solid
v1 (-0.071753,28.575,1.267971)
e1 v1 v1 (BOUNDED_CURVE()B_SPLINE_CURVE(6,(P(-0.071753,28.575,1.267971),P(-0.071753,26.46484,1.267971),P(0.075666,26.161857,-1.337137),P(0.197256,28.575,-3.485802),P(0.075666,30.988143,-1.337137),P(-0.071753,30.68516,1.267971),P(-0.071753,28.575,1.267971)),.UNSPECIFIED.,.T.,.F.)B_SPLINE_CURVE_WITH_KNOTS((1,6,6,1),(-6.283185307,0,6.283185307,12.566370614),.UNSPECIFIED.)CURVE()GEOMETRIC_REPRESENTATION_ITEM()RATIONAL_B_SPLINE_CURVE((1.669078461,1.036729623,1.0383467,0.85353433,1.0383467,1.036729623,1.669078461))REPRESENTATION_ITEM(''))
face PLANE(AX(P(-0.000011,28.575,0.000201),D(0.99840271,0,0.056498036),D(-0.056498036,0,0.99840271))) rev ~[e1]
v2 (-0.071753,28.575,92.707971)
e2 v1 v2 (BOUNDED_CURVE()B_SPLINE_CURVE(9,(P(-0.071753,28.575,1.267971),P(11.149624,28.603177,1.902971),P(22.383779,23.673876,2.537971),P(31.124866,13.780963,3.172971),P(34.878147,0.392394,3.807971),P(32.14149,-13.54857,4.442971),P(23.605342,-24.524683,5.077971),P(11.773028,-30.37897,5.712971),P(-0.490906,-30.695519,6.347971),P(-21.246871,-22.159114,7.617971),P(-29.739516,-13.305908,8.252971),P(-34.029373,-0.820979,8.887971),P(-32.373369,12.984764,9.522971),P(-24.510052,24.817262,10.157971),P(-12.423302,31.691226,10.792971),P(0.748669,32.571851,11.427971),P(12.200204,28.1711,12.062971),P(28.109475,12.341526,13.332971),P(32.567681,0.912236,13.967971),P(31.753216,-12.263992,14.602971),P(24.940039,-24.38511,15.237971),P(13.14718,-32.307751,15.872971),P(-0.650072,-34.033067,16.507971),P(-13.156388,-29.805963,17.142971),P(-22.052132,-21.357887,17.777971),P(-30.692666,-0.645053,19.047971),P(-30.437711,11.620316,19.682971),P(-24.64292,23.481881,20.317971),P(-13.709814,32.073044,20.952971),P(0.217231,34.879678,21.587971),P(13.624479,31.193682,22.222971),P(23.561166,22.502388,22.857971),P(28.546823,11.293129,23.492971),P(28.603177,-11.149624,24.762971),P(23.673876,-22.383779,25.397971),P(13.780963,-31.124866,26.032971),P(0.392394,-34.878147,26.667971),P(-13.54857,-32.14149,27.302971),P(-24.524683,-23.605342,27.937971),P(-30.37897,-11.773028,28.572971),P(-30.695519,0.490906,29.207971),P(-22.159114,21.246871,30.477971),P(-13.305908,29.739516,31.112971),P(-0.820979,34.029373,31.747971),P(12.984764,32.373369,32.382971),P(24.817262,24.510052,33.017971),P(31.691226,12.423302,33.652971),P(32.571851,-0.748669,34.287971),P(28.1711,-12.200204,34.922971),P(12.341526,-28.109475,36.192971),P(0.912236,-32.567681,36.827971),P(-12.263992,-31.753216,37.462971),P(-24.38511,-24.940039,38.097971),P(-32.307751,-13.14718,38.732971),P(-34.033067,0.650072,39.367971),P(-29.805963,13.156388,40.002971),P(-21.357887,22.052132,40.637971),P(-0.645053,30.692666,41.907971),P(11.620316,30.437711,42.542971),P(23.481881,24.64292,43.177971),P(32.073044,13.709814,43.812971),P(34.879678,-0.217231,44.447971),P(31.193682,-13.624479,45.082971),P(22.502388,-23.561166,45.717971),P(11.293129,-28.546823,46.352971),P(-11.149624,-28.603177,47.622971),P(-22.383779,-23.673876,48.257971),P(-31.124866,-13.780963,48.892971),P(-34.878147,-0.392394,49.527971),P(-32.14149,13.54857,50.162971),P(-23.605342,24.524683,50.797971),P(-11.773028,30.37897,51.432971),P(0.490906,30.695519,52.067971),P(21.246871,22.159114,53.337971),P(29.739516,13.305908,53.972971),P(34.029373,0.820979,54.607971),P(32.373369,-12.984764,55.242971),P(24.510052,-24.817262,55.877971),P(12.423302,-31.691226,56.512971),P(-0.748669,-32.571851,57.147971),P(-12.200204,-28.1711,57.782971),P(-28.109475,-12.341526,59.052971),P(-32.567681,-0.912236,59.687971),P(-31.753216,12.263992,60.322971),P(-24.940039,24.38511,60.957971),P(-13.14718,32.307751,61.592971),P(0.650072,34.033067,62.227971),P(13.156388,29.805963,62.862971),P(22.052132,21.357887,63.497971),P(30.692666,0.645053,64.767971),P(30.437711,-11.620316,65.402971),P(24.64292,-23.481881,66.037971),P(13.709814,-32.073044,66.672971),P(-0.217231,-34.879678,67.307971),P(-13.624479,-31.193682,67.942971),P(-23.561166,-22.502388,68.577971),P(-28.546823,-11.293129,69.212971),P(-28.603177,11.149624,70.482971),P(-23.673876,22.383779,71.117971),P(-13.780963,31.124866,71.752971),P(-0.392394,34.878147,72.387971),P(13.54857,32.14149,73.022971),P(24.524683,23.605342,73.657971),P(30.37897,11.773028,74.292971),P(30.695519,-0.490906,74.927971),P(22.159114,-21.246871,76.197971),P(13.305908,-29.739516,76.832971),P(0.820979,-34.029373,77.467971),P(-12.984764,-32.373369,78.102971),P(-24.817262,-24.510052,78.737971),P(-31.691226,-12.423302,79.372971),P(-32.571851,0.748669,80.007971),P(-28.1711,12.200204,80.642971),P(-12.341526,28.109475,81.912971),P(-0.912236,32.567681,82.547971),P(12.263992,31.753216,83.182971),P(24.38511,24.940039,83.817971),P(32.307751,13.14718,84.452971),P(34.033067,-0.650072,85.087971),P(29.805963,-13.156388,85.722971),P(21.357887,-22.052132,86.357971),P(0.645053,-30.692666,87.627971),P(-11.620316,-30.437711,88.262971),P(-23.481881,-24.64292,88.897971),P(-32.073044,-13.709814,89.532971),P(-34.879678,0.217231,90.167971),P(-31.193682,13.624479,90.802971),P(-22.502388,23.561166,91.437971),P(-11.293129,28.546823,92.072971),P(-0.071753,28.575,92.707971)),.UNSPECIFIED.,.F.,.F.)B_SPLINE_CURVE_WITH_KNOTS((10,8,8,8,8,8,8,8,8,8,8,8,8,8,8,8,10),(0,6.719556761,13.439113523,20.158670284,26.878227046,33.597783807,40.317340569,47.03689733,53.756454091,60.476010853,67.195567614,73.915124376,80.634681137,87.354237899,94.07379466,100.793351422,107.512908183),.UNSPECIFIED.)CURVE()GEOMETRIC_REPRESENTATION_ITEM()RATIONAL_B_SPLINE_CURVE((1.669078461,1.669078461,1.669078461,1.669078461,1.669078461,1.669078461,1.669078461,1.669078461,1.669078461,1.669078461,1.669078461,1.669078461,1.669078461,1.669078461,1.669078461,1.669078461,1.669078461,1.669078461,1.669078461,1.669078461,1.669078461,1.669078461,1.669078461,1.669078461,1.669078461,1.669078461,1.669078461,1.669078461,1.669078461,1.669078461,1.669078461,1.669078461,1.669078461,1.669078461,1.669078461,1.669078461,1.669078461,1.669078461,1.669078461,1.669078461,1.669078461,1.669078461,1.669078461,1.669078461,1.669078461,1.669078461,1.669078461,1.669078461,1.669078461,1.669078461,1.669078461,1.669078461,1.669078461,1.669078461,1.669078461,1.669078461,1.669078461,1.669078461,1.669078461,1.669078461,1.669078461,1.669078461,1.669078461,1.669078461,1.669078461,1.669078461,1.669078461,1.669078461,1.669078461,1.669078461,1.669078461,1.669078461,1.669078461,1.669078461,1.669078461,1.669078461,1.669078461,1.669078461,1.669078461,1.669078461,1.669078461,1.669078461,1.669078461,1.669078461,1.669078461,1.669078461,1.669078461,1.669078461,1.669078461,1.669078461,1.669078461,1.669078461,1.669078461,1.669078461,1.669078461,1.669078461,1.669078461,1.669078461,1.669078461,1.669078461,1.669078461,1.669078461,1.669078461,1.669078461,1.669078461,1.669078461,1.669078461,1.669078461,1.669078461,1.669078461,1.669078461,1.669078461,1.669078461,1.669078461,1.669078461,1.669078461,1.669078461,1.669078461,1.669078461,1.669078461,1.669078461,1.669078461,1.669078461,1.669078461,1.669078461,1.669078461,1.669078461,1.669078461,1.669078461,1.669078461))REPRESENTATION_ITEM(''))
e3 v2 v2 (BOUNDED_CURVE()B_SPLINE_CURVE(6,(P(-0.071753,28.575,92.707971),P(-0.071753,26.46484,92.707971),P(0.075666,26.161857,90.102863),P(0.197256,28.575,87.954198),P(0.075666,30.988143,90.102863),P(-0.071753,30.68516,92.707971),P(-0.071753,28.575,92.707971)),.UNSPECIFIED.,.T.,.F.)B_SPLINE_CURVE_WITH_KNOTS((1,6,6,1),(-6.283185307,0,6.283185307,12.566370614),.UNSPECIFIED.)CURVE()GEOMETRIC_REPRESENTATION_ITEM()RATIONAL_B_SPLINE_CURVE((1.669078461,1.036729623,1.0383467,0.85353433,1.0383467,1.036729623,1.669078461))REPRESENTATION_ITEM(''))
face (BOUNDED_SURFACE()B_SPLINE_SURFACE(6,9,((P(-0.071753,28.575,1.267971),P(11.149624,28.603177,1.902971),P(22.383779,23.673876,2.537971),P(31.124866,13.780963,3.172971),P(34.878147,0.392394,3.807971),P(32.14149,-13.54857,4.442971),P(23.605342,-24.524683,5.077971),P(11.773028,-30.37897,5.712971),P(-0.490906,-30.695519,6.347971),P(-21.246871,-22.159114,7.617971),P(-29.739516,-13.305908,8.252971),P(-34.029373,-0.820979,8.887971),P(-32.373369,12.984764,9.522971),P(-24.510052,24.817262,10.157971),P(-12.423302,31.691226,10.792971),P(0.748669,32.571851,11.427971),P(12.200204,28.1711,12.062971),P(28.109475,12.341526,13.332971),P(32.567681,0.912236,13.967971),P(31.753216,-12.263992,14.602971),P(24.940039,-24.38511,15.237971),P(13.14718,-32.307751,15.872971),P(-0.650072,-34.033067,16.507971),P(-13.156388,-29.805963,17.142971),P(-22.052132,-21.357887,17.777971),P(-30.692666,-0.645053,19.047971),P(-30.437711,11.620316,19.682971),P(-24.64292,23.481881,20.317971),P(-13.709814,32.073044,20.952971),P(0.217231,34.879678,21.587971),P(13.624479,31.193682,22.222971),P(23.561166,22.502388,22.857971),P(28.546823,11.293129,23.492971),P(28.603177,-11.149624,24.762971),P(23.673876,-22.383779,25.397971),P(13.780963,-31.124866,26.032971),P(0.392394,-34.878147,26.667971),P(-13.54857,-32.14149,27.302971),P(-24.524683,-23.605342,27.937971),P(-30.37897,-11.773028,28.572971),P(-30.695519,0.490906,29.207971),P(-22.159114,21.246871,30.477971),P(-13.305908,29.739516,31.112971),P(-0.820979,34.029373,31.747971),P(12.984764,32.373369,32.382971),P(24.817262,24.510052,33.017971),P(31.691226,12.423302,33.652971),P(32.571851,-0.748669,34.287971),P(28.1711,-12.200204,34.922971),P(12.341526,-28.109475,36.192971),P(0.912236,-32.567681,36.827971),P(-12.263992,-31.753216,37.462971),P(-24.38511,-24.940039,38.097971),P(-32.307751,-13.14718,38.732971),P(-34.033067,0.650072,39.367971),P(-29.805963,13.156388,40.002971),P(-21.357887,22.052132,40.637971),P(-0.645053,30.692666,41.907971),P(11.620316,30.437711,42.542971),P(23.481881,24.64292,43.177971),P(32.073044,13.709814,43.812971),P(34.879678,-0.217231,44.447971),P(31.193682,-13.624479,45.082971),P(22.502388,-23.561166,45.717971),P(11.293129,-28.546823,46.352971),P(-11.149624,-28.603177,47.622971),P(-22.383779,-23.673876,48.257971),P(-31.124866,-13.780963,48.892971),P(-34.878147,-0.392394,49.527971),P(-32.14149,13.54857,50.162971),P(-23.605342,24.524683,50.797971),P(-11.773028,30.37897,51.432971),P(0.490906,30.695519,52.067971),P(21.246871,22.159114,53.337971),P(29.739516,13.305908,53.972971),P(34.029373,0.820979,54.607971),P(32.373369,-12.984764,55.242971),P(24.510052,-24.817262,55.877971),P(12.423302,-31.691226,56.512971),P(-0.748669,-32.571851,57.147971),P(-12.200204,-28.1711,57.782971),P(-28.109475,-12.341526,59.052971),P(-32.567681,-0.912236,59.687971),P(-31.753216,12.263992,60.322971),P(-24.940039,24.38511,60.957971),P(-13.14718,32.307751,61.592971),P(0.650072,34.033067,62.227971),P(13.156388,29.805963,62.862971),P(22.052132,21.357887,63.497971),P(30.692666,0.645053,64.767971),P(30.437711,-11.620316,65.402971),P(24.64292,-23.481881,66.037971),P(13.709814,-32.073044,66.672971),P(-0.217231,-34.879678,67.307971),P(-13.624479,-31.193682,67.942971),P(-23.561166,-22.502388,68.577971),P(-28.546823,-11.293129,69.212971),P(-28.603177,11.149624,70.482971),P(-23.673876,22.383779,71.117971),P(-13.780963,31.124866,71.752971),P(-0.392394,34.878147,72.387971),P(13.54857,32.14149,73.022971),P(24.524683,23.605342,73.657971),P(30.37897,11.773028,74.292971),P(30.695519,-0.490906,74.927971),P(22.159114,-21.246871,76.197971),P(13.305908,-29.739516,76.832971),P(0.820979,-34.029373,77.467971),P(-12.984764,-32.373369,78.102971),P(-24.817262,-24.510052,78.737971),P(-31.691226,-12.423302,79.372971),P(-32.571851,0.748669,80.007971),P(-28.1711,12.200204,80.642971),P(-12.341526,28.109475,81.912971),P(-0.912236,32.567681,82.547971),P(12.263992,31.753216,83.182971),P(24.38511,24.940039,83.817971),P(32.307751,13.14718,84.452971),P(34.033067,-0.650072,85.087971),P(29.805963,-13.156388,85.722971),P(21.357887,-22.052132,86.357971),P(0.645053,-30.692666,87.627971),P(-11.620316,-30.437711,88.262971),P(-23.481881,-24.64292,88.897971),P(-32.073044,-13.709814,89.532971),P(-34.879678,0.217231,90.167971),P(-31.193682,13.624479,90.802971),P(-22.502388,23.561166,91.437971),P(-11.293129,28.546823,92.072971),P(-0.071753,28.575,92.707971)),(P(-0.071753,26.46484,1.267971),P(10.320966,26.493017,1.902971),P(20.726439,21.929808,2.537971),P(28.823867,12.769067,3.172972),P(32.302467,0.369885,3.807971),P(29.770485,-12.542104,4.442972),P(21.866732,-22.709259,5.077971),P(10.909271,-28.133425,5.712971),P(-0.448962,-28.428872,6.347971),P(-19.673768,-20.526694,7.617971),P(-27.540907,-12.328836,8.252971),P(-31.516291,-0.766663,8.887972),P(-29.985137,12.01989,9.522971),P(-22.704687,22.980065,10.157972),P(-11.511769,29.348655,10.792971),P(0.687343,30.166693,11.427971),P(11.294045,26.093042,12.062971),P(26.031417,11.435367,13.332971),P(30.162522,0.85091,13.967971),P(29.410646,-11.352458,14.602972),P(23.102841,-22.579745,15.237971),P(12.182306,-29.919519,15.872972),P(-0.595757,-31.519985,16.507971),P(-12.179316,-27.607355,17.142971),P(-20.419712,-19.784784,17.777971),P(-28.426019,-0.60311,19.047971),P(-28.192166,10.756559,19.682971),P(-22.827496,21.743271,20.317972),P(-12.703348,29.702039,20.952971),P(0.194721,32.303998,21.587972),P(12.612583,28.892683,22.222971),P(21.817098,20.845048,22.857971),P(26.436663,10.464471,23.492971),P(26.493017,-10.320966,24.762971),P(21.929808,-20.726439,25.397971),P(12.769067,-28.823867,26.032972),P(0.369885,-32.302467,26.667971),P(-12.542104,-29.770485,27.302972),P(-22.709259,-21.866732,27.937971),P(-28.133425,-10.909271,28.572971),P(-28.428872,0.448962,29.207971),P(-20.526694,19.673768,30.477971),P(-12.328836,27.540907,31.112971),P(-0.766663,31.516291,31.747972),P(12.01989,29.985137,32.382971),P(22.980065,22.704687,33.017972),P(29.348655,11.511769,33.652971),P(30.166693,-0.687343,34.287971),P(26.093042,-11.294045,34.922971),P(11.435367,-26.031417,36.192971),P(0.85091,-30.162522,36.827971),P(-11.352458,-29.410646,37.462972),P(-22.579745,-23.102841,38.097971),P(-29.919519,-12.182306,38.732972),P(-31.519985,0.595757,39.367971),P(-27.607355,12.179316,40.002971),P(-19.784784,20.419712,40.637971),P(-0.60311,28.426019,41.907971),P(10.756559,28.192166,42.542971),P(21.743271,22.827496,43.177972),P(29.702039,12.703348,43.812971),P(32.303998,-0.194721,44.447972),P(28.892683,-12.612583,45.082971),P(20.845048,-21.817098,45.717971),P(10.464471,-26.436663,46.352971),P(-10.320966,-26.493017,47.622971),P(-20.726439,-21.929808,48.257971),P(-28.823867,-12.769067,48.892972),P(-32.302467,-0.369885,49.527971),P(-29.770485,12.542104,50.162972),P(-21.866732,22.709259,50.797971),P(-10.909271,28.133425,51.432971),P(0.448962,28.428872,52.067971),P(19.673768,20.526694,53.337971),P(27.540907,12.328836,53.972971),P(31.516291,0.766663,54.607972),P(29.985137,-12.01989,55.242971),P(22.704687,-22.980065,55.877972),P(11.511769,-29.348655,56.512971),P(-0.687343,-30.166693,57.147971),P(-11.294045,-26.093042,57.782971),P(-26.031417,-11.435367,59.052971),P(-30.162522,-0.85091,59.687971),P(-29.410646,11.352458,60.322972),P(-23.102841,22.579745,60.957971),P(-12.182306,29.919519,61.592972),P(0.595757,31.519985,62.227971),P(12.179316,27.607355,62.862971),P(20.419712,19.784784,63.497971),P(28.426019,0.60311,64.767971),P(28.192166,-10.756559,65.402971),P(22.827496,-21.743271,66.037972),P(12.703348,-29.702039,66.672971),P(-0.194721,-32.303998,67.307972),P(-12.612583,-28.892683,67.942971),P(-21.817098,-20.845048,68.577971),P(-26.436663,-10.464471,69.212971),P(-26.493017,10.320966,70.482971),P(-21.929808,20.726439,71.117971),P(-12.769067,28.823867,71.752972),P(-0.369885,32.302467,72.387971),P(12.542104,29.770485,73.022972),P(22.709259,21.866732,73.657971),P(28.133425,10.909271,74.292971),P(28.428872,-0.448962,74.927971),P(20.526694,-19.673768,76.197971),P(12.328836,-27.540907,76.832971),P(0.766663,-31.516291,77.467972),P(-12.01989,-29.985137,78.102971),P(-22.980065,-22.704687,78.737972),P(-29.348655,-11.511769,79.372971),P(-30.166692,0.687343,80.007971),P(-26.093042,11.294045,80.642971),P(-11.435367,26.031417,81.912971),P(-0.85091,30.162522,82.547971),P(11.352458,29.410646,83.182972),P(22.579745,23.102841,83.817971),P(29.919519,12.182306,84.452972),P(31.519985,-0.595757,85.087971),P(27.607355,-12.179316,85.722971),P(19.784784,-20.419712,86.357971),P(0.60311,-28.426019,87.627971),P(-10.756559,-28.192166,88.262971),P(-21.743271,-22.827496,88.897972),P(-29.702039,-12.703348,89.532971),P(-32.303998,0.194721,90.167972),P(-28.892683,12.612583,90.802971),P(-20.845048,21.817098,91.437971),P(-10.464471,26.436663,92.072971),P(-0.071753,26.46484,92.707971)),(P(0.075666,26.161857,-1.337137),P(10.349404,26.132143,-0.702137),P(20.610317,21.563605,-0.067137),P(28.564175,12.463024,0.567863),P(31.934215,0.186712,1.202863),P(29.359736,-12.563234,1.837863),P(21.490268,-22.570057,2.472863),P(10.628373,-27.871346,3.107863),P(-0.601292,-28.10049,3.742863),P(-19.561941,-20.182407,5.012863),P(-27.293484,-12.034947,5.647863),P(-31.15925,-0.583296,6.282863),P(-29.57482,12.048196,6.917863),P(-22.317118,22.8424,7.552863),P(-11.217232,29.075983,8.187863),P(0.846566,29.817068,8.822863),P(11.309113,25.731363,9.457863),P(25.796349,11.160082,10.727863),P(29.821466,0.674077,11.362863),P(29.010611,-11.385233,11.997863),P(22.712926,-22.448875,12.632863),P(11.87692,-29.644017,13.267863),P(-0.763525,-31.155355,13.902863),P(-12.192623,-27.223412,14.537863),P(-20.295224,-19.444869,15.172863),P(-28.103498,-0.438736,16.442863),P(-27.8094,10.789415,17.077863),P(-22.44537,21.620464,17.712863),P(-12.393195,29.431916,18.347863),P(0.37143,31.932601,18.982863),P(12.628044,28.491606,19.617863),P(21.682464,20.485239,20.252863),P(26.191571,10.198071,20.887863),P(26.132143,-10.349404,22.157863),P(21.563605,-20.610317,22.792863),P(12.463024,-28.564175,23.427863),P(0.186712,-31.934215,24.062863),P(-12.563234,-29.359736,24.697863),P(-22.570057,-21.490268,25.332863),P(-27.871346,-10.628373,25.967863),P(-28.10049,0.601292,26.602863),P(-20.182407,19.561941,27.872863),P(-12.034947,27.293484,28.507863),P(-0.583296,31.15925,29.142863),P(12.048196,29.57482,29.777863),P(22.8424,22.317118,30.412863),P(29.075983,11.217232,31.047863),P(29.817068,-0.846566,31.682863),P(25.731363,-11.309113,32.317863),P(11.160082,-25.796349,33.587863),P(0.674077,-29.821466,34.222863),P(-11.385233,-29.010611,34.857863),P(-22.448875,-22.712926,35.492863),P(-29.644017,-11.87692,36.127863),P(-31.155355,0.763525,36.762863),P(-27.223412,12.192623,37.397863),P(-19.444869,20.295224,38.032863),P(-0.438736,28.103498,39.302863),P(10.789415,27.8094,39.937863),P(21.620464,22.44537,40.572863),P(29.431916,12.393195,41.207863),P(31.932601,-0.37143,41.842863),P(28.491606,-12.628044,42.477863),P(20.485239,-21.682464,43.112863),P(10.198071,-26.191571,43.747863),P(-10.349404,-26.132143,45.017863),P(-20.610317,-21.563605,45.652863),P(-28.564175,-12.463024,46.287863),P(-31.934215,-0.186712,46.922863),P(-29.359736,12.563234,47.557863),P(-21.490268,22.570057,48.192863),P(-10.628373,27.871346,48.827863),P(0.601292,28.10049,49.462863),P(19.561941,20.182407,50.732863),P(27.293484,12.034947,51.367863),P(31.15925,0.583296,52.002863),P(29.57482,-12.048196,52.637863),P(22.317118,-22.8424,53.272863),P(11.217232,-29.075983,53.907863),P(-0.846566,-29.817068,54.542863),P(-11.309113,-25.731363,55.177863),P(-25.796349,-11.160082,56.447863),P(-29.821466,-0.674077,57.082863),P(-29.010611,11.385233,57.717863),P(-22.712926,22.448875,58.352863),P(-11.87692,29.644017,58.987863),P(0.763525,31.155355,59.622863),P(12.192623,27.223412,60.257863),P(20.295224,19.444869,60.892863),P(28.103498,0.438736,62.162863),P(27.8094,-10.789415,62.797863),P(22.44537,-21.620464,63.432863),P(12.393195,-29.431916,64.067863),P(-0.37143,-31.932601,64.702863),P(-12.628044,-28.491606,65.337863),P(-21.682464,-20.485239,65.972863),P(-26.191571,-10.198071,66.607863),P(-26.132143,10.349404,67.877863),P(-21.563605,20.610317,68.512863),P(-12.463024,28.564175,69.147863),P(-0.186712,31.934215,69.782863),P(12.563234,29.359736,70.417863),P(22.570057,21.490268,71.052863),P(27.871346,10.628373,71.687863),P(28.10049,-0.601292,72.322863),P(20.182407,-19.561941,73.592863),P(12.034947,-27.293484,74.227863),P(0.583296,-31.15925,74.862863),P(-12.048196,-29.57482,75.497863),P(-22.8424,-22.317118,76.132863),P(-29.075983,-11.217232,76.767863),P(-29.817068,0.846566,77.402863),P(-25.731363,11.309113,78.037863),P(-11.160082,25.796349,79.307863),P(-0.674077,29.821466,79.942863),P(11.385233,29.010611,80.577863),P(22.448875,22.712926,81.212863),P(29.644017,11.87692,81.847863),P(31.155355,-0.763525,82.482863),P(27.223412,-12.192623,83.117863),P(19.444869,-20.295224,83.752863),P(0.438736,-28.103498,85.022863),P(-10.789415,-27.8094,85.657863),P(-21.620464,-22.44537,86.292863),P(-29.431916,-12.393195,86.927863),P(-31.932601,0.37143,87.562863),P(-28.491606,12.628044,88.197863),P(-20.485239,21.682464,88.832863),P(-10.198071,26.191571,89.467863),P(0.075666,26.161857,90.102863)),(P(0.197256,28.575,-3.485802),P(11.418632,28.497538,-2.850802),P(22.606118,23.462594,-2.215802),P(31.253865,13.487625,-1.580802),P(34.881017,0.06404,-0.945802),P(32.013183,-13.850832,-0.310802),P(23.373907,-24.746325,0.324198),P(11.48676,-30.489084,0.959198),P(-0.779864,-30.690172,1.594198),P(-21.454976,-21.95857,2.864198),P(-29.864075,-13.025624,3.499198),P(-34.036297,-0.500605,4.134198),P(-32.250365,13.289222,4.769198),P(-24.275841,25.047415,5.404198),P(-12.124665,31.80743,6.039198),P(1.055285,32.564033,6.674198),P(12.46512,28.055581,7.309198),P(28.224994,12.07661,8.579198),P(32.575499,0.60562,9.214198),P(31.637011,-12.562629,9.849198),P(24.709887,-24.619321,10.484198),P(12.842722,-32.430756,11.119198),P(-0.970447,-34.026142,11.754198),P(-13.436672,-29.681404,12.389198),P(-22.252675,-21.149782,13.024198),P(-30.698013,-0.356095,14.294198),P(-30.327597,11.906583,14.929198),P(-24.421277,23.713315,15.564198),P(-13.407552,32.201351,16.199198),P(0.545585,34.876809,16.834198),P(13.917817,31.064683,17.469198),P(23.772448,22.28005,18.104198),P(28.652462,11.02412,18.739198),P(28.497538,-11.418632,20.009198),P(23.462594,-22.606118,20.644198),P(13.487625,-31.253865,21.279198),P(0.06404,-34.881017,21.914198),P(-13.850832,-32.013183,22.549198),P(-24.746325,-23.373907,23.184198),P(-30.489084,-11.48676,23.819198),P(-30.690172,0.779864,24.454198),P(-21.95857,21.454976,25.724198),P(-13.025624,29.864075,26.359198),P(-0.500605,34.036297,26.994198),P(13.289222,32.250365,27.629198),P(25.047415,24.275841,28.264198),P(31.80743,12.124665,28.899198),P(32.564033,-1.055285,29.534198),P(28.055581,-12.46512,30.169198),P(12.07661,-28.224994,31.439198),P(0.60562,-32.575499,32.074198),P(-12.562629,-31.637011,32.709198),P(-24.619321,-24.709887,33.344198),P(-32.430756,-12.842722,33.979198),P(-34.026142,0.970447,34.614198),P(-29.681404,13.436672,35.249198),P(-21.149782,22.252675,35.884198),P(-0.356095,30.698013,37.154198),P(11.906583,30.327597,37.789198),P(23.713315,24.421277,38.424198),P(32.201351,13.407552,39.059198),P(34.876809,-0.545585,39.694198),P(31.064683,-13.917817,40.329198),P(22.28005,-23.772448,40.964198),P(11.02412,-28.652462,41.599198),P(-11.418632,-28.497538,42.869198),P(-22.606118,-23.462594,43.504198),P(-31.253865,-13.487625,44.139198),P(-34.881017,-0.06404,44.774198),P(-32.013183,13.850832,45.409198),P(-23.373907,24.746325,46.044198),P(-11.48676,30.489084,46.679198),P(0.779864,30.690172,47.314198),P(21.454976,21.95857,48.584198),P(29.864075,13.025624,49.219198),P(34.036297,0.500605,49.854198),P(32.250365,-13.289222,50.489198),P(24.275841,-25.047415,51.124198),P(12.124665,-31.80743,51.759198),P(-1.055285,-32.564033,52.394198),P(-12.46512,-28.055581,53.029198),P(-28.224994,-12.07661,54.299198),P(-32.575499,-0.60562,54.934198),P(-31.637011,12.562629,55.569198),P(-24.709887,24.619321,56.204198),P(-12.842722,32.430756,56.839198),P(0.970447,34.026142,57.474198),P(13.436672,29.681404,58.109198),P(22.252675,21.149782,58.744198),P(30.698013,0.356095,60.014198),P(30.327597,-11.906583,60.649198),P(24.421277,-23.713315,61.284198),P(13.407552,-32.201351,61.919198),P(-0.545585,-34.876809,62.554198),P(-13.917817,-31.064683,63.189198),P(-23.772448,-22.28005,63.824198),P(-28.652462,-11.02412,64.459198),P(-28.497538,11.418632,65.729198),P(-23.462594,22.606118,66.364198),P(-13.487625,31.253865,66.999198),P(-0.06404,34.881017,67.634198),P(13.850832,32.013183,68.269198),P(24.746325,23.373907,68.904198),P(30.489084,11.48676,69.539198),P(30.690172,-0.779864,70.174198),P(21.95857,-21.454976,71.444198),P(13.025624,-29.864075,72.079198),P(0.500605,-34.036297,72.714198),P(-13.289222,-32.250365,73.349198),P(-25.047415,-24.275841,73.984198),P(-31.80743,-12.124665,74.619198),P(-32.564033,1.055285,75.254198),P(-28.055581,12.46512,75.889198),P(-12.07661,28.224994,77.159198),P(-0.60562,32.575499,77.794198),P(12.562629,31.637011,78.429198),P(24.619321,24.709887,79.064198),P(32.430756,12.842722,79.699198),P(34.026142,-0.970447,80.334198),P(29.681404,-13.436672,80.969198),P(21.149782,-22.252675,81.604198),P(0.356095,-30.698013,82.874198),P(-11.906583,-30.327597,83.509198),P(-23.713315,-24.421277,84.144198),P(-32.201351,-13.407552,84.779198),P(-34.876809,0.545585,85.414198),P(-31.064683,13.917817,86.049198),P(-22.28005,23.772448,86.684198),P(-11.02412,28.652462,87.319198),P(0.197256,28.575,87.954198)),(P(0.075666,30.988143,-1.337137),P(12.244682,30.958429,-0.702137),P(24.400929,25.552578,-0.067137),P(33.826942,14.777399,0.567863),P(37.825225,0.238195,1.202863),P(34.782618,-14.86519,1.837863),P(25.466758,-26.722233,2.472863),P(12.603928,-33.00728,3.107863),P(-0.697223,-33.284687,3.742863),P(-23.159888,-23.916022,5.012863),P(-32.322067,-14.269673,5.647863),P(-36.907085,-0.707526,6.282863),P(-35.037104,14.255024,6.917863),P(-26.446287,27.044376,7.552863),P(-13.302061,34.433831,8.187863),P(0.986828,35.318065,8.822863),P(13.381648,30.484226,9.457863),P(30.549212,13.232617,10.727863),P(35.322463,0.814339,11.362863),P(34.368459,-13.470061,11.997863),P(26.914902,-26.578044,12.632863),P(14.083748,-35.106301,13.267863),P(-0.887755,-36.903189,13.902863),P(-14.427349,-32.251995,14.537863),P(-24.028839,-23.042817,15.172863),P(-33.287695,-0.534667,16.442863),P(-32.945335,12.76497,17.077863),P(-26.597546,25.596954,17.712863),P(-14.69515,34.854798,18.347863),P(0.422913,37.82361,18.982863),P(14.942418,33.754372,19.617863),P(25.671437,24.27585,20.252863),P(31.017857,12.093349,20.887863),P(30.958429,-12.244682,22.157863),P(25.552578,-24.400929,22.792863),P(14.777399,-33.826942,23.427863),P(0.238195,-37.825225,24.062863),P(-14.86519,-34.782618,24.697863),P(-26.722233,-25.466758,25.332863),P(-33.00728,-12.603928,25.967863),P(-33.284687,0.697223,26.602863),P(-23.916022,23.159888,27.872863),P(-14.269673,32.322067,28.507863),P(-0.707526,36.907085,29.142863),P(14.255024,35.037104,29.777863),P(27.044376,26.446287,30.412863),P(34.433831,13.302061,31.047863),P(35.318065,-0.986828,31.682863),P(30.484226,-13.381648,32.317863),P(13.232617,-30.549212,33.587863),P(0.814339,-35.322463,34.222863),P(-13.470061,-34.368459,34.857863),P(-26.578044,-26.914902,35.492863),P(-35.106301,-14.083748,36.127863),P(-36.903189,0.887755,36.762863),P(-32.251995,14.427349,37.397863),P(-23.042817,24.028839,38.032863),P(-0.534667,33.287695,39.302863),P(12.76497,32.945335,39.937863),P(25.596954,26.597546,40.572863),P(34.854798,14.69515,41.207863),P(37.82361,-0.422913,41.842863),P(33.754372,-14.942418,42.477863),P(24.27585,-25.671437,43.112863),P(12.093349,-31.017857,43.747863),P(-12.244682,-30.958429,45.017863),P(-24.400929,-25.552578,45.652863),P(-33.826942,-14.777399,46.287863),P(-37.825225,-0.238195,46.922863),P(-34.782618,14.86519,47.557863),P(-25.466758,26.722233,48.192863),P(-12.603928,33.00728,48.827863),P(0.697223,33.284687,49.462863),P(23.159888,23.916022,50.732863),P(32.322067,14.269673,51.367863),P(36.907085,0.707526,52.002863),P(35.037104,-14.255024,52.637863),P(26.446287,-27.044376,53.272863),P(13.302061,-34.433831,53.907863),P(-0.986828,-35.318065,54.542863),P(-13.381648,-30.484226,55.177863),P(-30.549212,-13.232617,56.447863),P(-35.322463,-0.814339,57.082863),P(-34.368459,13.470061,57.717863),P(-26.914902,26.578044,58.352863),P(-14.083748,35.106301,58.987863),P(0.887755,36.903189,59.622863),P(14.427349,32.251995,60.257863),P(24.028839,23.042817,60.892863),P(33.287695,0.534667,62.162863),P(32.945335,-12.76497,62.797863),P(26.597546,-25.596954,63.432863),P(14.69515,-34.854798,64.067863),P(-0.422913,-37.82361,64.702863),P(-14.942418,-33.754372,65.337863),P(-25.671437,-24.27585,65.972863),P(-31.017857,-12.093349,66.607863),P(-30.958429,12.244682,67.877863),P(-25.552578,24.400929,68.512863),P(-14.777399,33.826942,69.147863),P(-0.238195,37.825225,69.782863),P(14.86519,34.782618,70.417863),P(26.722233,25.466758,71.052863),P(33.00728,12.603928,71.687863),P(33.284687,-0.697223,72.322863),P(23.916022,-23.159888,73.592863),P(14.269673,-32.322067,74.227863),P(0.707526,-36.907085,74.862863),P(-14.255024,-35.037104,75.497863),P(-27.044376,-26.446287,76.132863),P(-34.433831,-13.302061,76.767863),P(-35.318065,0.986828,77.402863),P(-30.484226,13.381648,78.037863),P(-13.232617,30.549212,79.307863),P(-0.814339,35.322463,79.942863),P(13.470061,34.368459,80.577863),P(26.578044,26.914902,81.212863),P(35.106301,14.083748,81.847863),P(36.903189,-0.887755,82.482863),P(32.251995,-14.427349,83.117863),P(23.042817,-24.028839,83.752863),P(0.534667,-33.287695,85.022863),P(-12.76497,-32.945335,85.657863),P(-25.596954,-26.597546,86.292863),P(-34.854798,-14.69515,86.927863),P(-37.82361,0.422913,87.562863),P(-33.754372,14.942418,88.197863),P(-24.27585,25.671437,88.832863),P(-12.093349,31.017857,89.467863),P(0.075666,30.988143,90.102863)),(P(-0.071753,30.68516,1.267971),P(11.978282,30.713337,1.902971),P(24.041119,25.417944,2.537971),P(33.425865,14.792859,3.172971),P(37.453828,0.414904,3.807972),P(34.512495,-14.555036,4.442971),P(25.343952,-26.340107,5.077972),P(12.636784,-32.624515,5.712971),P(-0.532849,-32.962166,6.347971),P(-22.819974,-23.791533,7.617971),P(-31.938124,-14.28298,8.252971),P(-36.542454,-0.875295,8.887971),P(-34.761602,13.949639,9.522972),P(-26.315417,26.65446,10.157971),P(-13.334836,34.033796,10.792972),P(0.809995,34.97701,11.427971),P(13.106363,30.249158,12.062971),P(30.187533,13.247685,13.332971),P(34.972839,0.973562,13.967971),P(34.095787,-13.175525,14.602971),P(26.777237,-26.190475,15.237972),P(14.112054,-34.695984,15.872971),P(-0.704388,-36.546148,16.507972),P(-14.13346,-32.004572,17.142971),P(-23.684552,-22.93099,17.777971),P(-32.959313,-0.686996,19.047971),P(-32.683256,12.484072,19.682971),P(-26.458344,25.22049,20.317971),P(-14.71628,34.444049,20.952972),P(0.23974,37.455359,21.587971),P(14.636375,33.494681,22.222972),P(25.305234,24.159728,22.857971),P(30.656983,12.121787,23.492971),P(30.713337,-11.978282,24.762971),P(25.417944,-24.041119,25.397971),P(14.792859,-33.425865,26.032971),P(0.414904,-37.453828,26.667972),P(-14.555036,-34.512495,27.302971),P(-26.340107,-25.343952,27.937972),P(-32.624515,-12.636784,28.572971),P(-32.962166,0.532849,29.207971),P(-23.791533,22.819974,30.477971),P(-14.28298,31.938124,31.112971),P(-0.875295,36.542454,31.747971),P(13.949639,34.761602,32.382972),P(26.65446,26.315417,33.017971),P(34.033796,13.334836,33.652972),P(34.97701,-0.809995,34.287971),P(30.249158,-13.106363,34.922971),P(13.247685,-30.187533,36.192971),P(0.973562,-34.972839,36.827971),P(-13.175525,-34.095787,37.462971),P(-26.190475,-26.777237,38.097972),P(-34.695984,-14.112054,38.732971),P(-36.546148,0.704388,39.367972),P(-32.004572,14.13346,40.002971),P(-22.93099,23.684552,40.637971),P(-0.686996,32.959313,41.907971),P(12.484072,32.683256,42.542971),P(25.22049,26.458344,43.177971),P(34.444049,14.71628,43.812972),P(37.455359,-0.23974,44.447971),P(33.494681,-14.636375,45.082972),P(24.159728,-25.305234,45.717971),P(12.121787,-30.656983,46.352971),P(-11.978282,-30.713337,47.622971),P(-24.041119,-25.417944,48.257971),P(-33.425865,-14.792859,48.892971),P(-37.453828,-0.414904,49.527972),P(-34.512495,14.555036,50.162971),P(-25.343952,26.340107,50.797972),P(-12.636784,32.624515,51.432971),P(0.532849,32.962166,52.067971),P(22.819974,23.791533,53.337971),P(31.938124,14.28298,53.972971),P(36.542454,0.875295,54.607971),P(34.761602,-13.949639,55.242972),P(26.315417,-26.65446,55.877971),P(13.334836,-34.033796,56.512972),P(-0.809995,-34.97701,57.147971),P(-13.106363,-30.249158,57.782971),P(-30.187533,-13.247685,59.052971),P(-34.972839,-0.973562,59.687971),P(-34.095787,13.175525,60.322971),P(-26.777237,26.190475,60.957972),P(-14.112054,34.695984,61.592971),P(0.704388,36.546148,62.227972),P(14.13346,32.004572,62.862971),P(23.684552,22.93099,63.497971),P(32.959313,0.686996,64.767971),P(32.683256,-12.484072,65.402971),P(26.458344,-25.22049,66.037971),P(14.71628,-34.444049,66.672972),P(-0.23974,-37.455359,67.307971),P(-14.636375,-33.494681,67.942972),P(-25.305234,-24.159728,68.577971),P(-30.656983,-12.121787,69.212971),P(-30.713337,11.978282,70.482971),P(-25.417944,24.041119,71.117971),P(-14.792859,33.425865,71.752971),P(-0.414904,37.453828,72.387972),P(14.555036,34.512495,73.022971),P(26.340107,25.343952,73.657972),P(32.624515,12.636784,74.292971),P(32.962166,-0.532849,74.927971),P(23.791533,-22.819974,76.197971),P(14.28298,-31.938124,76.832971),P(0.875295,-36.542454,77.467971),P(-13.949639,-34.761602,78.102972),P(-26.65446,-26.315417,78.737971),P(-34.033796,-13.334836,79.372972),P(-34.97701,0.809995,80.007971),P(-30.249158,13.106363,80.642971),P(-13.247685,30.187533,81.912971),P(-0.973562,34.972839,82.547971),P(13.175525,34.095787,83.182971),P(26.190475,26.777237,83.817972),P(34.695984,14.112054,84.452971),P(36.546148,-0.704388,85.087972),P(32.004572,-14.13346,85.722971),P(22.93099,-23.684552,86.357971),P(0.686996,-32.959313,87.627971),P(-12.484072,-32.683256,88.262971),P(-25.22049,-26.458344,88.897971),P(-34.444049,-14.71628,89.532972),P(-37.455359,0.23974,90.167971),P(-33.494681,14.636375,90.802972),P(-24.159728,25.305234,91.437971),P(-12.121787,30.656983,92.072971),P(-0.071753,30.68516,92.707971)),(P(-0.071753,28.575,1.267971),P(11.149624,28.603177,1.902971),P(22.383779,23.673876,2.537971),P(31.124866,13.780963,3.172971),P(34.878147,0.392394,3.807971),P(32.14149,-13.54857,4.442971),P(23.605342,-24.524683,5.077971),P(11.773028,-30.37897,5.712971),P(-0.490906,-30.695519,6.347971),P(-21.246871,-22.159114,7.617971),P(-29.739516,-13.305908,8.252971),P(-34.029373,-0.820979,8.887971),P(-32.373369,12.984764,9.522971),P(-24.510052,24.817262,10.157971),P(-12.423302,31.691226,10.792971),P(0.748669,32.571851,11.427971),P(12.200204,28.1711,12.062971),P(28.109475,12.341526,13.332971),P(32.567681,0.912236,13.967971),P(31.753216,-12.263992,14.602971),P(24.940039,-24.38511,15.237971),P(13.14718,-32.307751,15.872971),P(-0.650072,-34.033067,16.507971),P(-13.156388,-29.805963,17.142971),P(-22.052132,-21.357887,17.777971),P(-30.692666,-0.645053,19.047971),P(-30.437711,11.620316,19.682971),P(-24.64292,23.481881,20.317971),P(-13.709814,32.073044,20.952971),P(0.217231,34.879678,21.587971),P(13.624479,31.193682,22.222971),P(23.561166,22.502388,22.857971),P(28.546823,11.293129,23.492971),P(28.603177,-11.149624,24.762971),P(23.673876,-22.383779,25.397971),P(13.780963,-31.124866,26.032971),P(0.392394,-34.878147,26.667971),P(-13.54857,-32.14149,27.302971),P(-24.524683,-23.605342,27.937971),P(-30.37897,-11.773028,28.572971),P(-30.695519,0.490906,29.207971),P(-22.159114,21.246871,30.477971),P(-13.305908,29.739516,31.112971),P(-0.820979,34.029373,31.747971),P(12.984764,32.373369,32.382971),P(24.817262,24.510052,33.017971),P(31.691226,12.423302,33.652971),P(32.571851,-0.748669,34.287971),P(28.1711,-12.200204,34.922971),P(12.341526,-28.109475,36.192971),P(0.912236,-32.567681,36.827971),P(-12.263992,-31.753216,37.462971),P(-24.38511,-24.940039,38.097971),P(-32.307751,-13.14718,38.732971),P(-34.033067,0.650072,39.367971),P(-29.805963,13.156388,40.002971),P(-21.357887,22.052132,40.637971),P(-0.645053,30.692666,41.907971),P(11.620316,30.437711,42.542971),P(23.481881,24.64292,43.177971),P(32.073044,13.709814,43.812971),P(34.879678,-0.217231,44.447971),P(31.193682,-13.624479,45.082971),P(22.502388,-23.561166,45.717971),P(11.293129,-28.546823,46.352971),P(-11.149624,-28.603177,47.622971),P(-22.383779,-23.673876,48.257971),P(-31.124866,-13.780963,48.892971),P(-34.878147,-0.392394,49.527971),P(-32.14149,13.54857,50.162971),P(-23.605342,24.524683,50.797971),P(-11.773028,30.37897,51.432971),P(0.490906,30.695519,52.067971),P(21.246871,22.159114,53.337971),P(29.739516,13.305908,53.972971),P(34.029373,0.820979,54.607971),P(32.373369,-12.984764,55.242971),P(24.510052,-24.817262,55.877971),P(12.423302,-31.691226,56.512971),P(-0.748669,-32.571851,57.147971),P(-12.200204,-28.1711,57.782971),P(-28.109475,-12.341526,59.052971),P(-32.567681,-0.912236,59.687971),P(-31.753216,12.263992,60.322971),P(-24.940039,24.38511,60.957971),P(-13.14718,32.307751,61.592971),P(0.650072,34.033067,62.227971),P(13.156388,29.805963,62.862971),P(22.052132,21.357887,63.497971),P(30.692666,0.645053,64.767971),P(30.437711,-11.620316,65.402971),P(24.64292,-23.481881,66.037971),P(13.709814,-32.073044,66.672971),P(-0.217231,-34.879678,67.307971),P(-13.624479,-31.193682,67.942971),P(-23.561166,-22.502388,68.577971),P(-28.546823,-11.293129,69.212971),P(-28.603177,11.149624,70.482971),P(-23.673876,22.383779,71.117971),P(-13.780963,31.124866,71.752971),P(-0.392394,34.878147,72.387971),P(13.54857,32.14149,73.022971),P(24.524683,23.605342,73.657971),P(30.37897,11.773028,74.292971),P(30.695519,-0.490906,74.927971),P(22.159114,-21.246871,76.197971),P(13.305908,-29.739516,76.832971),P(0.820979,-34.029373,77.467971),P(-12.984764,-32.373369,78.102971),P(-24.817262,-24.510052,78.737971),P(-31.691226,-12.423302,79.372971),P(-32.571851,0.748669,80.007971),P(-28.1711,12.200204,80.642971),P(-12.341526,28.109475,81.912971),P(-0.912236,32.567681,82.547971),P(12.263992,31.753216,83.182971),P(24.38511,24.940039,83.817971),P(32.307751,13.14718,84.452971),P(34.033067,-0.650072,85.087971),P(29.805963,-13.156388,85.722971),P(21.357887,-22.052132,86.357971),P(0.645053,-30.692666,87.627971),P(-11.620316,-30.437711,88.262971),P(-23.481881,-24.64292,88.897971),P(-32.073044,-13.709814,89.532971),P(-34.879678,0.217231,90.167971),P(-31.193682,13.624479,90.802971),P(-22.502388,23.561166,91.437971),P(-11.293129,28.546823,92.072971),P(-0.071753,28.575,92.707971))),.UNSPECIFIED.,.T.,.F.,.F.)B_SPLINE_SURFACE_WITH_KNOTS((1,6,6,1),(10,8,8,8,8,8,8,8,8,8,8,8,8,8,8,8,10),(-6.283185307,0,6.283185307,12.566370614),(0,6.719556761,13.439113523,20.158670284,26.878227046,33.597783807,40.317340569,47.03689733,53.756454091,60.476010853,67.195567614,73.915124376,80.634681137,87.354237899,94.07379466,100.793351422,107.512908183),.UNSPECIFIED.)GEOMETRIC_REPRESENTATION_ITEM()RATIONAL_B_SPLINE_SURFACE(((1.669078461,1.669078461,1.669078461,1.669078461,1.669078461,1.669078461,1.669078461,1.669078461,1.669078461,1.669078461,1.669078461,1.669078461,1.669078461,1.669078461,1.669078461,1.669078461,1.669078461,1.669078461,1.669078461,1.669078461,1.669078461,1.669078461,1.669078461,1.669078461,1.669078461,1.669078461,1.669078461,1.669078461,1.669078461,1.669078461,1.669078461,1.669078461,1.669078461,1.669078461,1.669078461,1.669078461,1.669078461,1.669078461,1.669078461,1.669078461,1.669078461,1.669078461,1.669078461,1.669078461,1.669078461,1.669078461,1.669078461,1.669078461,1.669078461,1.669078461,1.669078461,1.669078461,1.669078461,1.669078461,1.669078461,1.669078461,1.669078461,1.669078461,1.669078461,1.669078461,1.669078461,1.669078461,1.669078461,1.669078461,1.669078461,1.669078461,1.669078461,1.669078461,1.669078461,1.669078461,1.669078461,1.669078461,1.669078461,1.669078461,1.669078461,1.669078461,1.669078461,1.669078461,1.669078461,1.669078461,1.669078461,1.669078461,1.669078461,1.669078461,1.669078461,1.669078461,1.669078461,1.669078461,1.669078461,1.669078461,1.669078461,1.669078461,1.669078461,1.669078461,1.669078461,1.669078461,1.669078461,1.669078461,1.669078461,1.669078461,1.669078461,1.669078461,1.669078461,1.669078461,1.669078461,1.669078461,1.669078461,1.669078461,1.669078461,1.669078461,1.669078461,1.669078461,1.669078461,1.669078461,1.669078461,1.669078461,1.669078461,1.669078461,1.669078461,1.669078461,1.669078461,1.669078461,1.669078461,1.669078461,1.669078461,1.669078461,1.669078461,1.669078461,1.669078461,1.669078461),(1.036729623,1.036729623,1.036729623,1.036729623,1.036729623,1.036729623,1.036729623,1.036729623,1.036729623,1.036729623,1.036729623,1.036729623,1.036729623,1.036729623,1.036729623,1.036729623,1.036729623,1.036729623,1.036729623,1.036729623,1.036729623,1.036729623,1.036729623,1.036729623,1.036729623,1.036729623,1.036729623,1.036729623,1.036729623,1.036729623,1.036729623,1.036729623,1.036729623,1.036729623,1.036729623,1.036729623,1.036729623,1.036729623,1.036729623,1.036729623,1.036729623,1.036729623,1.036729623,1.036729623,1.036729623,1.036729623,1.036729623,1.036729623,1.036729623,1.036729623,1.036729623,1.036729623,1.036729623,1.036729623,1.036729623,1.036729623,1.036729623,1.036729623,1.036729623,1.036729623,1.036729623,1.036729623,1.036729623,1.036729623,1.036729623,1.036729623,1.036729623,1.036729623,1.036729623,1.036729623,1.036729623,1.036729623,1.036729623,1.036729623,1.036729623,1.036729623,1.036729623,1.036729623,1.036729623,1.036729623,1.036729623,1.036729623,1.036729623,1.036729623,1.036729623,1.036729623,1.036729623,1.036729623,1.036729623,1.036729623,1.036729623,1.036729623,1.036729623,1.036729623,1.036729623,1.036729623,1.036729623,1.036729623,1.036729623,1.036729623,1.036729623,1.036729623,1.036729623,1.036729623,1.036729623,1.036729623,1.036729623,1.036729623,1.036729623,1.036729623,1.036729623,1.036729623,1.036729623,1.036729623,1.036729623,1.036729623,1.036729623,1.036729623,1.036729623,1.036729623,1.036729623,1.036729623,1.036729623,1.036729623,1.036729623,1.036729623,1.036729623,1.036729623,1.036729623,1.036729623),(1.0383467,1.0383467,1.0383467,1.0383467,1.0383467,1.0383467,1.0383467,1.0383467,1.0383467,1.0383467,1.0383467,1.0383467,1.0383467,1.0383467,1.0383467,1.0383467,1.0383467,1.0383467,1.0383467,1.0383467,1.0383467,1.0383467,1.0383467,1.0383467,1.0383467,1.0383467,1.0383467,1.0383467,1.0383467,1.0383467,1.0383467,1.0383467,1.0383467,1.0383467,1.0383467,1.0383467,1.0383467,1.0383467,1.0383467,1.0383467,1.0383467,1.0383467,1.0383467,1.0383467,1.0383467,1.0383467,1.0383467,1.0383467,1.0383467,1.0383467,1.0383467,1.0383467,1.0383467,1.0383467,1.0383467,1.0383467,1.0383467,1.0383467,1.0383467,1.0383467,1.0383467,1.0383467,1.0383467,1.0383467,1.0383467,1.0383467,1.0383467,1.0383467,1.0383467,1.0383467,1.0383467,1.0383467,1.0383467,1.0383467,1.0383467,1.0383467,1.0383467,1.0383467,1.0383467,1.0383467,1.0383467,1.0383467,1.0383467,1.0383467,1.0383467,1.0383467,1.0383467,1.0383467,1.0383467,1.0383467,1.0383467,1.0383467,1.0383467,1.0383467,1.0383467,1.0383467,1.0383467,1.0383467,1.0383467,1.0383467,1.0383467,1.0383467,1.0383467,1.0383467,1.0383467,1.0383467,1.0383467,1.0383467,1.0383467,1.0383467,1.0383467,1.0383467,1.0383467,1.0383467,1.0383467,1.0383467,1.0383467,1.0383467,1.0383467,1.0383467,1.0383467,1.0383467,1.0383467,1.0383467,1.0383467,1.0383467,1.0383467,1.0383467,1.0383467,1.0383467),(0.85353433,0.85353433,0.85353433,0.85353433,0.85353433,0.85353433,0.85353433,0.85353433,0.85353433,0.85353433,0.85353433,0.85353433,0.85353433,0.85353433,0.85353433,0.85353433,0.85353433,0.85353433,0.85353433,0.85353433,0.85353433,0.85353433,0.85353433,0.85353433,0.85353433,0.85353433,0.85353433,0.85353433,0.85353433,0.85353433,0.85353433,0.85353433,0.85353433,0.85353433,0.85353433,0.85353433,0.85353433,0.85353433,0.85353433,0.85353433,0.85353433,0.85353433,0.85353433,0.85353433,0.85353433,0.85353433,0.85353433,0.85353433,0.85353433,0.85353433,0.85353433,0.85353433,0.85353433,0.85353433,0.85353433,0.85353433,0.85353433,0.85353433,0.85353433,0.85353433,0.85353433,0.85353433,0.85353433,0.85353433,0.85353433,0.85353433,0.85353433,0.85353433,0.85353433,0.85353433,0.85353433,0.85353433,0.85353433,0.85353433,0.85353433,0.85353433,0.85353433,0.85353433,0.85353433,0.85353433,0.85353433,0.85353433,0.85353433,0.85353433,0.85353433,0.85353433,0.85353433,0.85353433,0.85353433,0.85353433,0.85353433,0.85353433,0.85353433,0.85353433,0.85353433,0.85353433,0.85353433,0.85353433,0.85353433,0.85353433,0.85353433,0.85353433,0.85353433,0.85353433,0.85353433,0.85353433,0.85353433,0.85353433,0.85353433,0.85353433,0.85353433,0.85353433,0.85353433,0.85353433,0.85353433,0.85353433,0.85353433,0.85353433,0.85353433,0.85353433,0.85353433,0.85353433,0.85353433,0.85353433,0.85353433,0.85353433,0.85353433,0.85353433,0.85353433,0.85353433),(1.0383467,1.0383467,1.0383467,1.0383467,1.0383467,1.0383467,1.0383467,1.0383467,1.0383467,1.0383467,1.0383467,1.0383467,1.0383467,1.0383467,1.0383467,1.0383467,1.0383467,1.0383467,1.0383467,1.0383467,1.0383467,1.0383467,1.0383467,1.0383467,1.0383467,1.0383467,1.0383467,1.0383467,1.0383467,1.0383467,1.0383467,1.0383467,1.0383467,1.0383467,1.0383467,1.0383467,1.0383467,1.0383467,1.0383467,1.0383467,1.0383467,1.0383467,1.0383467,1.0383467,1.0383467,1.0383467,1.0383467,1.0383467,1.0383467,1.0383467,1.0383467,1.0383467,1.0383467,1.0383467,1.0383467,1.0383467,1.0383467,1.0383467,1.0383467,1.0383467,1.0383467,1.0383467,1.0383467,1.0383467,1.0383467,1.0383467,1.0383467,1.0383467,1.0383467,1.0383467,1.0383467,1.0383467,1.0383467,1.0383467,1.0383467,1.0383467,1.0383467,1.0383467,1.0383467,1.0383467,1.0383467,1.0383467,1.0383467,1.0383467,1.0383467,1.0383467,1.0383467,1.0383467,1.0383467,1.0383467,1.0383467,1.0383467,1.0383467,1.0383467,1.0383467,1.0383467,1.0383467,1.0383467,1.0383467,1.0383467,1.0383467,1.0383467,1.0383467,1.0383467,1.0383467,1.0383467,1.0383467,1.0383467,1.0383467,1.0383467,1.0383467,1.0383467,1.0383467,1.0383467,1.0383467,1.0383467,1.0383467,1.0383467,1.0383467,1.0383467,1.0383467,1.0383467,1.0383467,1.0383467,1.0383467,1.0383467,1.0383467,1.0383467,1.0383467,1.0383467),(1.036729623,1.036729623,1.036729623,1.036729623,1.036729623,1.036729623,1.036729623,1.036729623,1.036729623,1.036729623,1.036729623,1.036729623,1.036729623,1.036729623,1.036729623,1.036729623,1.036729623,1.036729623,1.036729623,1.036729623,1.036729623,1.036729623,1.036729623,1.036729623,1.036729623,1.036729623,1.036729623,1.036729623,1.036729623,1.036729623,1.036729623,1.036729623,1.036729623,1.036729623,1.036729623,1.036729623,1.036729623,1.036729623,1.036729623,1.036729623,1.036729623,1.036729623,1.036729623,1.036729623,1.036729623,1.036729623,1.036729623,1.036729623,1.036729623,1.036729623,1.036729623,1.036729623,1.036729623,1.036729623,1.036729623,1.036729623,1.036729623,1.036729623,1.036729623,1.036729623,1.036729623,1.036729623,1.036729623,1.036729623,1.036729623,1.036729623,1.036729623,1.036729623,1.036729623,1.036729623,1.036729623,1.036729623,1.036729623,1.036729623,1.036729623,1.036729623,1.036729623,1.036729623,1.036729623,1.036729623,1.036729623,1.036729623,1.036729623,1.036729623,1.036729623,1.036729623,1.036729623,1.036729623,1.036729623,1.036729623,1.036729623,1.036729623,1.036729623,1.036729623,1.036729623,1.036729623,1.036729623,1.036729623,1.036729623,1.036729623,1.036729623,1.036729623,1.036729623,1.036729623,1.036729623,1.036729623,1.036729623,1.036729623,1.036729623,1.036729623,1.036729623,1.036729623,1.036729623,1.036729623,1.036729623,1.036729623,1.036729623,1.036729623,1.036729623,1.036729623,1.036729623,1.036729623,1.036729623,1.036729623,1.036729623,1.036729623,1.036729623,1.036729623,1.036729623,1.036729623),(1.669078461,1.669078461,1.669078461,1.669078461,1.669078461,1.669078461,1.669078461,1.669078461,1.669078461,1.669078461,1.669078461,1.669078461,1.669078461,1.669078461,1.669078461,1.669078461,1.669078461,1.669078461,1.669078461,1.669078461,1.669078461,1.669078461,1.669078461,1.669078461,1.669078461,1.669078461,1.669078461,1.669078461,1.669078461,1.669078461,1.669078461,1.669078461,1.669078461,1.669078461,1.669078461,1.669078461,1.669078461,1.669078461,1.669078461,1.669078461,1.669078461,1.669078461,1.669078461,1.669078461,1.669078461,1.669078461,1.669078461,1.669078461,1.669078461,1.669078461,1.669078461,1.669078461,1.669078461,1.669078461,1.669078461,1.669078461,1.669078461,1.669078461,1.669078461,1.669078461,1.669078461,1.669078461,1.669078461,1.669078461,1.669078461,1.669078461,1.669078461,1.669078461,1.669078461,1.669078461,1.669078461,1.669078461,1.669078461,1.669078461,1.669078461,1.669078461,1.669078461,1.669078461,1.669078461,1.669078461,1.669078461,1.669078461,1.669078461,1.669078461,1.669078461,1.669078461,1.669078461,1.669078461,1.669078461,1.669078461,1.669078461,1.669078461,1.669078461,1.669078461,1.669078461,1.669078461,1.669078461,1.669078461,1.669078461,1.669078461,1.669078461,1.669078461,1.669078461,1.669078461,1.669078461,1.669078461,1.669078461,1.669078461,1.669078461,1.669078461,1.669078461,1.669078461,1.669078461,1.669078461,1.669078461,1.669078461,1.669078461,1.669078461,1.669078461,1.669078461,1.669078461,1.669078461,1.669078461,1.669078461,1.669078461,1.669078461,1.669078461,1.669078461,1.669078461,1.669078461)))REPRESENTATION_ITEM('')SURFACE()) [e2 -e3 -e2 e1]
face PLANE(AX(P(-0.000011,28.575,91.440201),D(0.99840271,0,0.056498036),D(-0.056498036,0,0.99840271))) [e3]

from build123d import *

# Parameters (mm, degrees)
SWEEP1_PITCH       = 10.16
SWEEP1_HEIGHT      = 91.44
SWEEP1_RADIUS      = 28.575
SWEEP1_START_ANGLE = 90
SWEEP1_PROFILE_R   = 1.27


with BuildPart() as part:
    # Sweep1: sweep along a helix
    with BuildLine() as sweep1_path:
        add(Helix(SWEEP1_PITCH, SWEEP1_HEIGHT, SWEEP1_RADIUS, center=(0, 0, 0), direction=(0, 0, 1), lefthand=True, mode=Mode.PRIVATE).rotate(Axis((0, 0, 0), (0, 0, 1)), SWEEP1_START_ANGLE))
    # Sweep1 profile (on start of the path) → Sweep1 (sweep)
    with BuildSketch(Plane(origin=(0, 28.575, 0), x_dir=(-0.056498036, 0, 0.99840271), z_dir=(0.99840271, 0, 0.056498036))):
        Circle(SWEEP1_PROFILE_R)
    sweep(path=sweep1_path.line, is_frenet=True)


solid = part.part
